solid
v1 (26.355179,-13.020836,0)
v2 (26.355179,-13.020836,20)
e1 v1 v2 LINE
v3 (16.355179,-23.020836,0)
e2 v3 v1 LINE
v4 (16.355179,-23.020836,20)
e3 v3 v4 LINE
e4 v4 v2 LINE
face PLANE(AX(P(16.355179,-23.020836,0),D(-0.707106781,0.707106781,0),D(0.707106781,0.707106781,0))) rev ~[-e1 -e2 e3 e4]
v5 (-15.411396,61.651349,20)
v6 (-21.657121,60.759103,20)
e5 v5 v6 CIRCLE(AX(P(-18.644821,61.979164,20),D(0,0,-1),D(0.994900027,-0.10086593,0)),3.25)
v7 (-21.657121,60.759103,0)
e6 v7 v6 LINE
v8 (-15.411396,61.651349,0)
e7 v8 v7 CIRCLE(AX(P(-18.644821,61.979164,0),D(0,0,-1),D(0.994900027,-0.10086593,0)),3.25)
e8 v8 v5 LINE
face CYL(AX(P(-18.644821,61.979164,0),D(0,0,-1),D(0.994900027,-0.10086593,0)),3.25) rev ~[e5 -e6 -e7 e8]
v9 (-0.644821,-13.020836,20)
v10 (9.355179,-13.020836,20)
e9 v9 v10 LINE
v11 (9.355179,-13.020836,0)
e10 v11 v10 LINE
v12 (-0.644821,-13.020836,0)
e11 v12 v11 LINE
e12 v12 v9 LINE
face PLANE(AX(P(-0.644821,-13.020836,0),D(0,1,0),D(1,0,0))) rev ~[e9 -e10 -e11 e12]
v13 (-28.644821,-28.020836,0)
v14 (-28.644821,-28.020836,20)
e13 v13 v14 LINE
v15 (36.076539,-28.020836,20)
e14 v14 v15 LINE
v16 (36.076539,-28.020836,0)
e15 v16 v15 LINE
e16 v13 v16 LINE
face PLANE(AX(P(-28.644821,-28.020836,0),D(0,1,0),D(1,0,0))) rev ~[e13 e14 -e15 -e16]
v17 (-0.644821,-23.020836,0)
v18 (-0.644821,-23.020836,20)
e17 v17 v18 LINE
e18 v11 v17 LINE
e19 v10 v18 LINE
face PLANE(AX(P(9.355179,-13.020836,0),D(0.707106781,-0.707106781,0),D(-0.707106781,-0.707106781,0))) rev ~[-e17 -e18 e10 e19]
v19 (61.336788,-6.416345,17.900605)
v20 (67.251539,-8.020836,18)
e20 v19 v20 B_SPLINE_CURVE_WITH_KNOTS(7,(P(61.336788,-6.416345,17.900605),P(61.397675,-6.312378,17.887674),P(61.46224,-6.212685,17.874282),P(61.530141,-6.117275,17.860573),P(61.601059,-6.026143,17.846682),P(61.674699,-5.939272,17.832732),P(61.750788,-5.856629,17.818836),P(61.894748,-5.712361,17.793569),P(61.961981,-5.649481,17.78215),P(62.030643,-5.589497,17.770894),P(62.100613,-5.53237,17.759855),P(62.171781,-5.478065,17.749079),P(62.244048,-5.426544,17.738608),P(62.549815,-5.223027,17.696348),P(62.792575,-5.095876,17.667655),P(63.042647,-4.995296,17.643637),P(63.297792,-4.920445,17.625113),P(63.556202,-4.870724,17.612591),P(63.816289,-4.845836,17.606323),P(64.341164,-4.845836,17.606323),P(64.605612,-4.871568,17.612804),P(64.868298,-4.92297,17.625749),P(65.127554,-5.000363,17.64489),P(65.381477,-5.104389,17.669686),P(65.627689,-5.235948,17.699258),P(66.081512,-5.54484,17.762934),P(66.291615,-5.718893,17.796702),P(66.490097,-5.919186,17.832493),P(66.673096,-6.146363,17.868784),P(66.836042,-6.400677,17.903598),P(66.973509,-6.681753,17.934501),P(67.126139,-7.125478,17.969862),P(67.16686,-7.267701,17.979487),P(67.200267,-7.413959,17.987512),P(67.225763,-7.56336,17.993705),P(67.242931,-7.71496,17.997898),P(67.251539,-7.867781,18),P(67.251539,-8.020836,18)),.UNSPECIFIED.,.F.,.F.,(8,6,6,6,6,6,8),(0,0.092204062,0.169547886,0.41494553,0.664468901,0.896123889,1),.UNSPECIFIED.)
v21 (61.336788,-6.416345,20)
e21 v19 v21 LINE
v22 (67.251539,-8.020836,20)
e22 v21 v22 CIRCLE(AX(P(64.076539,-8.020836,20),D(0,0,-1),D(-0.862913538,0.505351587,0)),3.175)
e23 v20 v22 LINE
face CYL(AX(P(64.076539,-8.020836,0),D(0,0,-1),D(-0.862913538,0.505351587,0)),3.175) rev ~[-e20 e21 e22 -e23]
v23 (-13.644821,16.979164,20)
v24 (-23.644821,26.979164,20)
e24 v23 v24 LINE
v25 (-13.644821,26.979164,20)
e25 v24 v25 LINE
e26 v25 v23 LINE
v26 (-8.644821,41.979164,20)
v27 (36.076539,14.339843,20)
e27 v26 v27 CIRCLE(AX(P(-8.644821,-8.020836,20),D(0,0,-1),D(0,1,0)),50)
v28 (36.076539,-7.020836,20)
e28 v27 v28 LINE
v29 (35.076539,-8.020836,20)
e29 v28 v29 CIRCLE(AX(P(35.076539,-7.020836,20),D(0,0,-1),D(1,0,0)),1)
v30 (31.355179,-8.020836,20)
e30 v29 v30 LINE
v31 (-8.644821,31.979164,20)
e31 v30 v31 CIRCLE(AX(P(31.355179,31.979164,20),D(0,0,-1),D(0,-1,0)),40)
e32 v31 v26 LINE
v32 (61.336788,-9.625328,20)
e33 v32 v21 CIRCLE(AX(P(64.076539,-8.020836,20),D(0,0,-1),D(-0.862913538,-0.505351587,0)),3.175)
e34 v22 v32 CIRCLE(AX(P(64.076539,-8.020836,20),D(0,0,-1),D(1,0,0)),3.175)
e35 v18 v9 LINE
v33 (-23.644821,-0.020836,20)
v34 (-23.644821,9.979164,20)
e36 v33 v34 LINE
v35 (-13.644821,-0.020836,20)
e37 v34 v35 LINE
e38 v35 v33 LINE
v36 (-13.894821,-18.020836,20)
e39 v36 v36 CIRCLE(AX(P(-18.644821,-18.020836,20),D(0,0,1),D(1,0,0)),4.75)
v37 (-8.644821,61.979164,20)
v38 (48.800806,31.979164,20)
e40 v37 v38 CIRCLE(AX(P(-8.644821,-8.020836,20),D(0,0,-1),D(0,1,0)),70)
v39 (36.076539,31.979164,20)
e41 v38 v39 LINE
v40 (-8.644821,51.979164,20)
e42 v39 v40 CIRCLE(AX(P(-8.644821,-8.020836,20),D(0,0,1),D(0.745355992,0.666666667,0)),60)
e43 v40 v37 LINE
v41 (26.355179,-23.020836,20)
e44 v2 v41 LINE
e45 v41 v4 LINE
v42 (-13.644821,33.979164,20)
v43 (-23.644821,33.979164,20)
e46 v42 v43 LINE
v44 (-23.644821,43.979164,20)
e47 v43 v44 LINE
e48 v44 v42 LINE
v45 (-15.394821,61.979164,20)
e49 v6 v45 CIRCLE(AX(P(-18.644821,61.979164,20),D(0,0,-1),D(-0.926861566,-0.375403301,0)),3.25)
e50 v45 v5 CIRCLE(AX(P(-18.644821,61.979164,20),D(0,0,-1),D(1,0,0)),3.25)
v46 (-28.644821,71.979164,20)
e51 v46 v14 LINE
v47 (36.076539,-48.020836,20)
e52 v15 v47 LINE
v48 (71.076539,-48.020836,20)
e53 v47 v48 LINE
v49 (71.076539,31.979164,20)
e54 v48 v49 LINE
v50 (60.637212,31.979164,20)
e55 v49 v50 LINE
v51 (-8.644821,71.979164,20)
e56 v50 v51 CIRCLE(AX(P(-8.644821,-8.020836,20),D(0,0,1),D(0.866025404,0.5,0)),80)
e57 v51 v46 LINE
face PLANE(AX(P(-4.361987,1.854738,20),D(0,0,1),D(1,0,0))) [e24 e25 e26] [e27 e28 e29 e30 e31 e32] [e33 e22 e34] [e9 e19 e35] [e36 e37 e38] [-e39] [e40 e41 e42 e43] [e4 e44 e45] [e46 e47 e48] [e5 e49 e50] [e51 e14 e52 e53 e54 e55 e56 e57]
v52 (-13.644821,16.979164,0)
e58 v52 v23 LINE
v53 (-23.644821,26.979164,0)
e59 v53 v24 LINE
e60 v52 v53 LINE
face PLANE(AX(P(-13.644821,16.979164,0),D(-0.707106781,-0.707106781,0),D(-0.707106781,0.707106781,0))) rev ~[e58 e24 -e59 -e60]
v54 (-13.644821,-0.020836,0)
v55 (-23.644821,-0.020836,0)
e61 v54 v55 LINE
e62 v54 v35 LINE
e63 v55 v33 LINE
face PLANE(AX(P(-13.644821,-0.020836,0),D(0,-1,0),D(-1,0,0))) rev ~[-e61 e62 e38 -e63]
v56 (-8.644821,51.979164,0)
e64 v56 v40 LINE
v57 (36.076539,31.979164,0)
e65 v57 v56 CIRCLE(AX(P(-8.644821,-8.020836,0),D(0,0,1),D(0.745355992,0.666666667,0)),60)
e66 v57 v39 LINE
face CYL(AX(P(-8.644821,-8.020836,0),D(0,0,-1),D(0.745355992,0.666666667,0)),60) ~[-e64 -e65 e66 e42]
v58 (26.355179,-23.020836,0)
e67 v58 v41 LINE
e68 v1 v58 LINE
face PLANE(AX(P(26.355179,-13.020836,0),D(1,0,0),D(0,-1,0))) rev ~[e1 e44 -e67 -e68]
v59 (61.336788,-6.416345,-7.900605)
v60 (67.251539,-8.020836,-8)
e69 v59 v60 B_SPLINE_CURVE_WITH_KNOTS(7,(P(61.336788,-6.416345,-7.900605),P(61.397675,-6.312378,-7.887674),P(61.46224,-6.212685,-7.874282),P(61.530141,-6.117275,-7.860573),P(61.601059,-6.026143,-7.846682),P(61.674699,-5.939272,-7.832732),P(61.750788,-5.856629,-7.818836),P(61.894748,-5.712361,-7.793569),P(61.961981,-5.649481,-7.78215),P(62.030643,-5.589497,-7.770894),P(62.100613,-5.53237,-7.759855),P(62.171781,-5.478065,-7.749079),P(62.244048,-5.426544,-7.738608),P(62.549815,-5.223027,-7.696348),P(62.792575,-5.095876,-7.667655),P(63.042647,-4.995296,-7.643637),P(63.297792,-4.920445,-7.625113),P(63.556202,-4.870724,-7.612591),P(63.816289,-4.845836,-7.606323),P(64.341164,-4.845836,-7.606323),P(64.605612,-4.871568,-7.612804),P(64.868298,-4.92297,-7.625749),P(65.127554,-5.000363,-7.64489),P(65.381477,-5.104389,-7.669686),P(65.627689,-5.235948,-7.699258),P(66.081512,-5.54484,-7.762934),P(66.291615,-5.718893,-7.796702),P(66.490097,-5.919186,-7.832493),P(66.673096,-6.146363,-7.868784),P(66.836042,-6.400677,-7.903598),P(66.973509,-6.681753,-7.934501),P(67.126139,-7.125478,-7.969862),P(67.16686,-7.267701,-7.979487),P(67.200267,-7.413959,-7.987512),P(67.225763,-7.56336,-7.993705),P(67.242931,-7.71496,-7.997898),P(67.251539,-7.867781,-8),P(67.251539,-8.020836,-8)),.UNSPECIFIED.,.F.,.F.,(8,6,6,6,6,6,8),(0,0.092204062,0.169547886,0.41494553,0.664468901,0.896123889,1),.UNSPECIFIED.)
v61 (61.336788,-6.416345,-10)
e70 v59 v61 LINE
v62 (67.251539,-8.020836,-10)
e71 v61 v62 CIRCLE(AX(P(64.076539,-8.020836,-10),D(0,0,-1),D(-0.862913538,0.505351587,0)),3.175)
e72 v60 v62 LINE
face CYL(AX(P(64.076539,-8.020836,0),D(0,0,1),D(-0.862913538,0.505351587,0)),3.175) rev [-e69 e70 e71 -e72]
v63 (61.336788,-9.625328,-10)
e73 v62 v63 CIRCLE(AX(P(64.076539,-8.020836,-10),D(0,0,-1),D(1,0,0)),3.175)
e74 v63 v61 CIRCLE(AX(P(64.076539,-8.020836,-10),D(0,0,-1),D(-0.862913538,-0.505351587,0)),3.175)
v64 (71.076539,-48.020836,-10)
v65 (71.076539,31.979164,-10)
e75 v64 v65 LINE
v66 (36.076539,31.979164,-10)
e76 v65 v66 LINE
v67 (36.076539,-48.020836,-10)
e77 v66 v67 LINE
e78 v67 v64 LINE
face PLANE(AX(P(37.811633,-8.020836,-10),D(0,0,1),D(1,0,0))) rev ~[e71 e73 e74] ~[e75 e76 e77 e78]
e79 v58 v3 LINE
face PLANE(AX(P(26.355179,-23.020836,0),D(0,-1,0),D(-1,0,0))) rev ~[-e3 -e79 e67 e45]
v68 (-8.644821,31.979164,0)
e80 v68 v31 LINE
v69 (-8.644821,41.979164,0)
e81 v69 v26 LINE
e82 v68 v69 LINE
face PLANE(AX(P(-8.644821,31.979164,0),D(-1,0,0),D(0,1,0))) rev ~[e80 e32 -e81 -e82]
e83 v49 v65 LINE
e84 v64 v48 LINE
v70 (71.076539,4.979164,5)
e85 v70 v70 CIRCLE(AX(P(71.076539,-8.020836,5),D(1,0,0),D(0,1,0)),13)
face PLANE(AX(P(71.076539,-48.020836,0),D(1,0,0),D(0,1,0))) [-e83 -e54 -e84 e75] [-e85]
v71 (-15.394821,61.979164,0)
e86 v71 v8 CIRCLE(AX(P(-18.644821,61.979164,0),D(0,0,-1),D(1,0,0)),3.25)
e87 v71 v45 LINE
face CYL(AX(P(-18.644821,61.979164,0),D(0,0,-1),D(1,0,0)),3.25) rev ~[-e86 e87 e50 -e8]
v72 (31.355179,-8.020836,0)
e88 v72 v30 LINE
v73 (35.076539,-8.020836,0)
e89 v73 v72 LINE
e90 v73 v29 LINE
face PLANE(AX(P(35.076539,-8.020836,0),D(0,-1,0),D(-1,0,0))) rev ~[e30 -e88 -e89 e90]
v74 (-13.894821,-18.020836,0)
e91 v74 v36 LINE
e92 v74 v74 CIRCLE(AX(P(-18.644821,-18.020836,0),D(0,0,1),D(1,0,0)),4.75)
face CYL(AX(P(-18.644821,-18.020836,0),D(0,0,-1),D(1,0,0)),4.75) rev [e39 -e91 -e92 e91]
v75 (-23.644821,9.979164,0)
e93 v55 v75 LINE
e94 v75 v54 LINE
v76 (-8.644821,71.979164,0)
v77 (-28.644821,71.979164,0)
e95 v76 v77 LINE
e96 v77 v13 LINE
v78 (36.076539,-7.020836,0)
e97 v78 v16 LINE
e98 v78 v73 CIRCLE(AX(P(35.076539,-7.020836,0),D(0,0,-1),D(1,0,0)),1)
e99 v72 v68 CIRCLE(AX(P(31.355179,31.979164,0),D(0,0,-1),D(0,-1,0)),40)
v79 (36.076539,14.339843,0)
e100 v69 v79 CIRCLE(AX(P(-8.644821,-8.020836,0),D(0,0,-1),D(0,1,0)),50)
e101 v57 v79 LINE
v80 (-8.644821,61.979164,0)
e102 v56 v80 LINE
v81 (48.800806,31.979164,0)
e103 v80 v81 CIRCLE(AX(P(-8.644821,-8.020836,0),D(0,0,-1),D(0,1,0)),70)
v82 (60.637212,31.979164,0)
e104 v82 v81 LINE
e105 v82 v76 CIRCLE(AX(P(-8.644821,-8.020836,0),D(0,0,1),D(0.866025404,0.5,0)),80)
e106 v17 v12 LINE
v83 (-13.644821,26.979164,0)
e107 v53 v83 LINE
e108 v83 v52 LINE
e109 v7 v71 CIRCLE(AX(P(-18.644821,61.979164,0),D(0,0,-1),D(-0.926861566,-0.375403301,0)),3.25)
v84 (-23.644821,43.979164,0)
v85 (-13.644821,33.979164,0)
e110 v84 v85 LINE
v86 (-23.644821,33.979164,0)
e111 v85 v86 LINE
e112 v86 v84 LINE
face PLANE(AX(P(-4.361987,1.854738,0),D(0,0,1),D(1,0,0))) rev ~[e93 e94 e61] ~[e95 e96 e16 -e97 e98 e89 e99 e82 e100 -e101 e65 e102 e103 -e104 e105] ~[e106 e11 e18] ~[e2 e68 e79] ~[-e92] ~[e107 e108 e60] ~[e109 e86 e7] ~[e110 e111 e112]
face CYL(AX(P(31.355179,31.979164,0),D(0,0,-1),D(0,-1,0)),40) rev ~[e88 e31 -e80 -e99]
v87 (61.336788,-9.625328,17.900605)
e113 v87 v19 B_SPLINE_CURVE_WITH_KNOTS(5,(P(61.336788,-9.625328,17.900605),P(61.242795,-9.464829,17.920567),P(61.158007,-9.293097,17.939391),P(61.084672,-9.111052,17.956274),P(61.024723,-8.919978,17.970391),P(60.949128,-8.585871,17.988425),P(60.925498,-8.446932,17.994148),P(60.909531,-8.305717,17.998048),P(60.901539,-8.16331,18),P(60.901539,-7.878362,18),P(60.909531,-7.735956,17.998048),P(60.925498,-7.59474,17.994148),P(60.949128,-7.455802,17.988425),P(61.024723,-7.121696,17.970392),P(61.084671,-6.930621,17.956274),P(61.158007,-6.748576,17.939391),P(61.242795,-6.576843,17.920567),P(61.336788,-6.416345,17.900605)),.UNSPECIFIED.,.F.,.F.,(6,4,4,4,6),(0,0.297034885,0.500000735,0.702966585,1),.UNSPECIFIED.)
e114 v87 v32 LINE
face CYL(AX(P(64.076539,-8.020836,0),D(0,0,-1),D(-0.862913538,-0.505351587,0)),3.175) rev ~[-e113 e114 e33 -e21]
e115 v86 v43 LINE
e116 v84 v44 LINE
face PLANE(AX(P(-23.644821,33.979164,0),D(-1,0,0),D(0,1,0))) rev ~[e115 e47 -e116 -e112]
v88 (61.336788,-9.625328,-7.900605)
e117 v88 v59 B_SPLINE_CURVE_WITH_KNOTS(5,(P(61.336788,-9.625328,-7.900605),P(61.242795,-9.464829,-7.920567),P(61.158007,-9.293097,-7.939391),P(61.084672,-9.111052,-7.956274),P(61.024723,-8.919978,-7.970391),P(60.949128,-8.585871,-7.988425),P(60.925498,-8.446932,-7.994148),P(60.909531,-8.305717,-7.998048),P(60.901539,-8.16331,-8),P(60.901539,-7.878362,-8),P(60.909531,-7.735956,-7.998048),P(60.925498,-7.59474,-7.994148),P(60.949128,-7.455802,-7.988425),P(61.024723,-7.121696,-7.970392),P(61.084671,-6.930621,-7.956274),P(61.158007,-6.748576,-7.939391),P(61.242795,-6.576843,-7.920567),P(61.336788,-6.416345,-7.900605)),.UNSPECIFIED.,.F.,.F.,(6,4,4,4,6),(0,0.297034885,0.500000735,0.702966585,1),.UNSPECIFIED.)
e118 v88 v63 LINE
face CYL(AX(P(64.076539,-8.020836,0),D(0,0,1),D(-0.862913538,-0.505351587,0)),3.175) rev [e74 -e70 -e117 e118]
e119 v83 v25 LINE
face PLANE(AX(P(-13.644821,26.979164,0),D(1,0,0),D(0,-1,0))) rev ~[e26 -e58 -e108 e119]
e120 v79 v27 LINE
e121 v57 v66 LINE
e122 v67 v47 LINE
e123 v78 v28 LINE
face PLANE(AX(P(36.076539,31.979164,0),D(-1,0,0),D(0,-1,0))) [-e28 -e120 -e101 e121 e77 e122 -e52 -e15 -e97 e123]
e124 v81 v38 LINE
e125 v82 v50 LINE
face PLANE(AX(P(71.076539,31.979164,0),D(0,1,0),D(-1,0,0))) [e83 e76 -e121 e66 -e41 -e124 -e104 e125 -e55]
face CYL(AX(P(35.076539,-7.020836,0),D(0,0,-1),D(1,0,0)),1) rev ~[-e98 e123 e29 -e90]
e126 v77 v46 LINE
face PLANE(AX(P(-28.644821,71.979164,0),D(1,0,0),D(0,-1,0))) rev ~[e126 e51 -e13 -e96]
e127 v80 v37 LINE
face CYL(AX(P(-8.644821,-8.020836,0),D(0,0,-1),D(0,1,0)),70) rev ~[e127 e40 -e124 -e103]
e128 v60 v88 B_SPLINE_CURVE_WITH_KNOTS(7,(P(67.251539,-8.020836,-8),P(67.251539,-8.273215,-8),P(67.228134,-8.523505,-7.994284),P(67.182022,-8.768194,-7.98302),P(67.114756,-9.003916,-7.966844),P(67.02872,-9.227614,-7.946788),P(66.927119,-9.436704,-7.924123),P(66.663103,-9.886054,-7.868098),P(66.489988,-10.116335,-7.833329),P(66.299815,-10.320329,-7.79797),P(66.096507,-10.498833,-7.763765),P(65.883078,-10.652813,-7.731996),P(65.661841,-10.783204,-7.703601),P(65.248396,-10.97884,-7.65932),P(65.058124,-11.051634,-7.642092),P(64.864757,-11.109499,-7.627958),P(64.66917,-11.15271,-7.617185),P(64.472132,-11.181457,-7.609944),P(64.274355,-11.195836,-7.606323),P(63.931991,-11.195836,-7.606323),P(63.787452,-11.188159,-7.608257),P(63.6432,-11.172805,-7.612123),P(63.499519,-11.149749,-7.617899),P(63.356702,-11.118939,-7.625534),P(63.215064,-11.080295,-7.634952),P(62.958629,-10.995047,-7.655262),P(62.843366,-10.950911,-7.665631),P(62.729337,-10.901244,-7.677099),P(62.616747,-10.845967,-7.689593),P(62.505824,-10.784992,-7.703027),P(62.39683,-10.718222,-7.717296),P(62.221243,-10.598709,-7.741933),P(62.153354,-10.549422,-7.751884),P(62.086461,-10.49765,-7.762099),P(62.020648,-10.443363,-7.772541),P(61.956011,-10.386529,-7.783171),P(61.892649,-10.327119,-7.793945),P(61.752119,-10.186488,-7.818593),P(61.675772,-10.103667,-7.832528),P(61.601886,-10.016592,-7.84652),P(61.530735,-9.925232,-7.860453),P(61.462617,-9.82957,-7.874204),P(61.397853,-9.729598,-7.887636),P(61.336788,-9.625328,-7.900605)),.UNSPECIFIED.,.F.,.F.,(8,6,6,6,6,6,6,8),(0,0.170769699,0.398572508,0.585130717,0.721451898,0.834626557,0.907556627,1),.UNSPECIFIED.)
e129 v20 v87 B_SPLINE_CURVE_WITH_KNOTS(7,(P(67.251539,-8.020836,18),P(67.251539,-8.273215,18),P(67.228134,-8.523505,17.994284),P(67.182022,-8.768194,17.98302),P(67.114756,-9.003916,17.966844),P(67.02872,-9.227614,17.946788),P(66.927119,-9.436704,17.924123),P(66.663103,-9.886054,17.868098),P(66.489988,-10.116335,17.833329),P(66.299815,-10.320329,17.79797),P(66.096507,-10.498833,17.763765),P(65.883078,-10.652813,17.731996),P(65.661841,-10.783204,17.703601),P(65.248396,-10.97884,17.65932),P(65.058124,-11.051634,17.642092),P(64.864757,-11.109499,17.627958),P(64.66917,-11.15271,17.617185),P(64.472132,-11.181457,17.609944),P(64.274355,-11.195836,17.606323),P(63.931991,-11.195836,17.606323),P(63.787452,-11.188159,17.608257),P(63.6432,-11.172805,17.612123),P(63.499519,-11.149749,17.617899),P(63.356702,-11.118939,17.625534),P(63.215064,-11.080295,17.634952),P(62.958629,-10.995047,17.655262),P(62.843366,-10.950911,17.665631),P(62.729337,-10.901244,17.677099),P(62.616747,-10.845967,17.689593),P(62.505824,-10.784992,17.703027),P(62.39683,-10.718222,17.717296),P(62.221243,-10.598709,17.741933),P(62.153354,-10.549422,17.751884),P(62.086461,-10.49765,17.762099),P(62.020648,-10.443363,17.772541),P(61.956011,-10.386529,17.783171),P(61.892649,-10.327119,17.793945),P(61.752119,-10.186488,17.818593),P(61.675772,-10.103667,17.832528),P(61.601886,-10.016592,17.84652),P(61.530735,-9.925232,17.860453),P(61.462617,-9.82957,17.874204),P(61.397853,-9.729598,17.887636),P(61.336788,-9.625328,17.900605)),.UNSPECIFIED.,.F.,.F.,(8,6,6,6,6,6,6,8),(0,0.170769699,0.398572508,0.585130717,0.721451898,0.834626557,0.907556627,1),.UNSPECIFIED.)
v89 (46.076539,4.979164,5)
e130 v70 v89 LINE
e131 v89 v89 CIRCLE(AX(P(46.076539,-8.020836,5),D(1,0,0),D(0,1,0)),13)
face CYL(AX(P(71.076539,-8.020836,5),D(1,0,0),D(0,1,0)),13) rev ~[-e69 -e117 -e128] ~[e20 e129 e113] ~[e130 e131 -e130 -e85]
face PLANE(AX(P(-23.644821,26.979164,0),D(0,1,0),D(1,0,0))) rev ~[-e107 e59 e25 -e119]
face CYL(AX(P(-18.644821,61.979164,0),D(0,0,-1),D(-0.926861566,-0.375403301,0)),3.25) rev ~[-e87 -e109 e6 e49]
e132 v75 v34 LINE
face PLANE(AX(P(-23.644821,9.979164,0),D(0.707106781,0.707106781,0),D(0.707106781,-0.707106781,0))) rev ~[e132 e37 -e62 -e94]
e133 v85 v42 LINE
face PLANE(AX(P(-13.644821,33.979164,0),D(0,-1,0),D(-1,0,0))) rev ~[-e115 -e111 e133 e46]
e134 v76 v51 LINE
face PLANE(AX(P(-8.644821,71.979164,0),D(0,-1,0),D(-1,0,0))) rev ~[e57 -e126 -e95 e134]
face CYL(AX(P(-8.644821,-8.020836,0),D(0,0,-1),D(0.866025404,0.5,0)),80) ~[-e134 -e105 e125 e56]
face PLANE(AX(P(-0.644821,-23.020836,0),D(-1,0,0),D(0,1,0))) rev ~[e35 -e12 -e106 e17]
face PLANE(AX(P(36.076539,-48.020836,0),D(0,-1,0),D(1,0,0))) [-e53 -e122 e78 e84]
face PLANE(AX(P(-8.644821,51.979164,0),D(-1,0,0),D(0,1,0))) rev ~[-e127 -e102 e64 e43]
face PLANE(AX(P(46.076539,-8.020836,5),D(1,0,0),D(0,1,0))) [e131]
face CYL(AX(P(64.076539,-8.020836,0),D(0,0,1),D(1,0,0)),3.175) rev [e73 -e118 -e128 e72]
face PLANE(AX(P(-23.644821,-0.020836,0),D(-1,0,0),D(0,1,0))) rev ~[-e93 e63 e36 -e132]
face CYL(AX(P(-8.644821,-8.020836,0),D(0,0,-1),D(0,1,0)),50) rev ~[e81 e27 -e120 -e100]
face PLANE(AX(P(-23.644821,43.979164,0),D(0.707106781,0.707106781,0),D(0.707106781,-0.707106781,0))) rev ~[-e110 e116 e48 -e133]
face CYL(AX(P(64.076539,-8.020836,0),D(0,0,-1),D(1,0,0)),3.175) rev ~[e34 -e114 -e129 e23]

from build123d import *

# Parameters (mm, degrees)
F0_R     = 4.75
F1_DEPTH = 20
F2_DEPTH = 10
F3_R     = 13
F4_DEPTH = 25


with BuildPart() as f1:
    # F0 (on Top) → F1 (new body)
    with BuildSketch(Plane.XY):
        with BuildLine():
            Line((-8.6448206271, 31.9791635871), (-8.6448206271, 41.9791635871))
            ThreePointArc((-8.6448206271, 41.9791635871), (-14.4995413925, 41.6352029455), (-20.2737104175, 40.6080533775))
            Line((-20.2737104175, 40.6080533775), (-13.6448206271, 33.9791635871))
            Line((-13.6448206271, 33.9791635871), (-23.6448206271, 33.9791635871))
            Line((-23.6448206271, 33.9791635871), (-23.6448206271, 39.6761236579))
            ThreePointArc((-23.6448206271, 39.6761236579), (-26.1698127892, 38.8073030944), (-28.6448206271, 37.8049205367))
            Line((-28.6448206271, 37.8049205367), (-28.6448206271, -28.0208364129))
            Line((-28.6448206271, -28.0208364129), (-8.6448206271, -28.0208364129))
            Line((-8.6448206271, -28.0208364129), (35.0765389229, -28.0208364129))
            Line((35.0765389229, -28.0208364129), (36.0765389229, -28.0208364129))
            Line((36.0765389229, -28.0208364129), (36.0765389229, -7.0208364129))
            ThreePointArc((36.0765389229, -7.0208364129), (35.783645704, -7.7279431941), (35.0765389229, -8.0208364129))
            Line((35.0765389229, -8.0208364129), (31.3551793729, -8.0208364129))
            ThreePointArc((31.3551793729, -8.0208364129), (3.0709081254, 3.6948923396), (-8.6448206271, 31.9791635871))
        make_face()
        with Locations((-18.6448206271, -18.0208364129)):
            Circle(F0_R, mode=Mode.SUBTRACT)
        Polygon((-0.6448206271, -13.0208364129), (9.3551793729, -13.0208364129), (-0.6448206271, -23.0208364129), align=None, mode=Mode.SUBTRACT)
        Polygon((26.3551793729, -23.0208364129), (16.3551793729, -23.0208364129), (26.3551793729, -13.0208364129), align=None, mode=Mode.SUBTRACT)
        Polygon((-23.6448206271, -0.0208364129), (-23.6448206271, 9.9791635871), (-13.6448206271, -0.0208364129), align=None, mode=Mode.SUBTRACT)
        Polygon((-13.6448206271, 26.9791635871), (-13.6448206271, 16.9791635871), (-23.6448206271, 26.9791635871), align=None, mode=Mode.SUBTRACT)
        with BuildLine():
            Line((-8.6448206271, 41.9791635871), (-8.6448206271, 51.9791635871))
            ThreePointArc((-8.6448206271, 51.9791635871), (-18.7909393507, 51.1150771663), (-28.6448206271, 48.547706082))
            Line((-28.6448206271, 48.547706082), (-28.6448206271, 37.8049205367))
            ThreePointArc((-28.6448206271, 37.8049205367), (-26.1698127892, 38.8073030944), (-23.6448206271, 39.6761236579))
            Line((-23.6448206271, 39.6761236579), (-23.6448206271, 43.9791635871))
            Line((-23.6448206271, 43.9791635871), (-20.2737104175, 40.6080533775))
            ThreePointArc((-20.2737104175, 40.6080533775), (-14.4995413925, 41.6352029455), (-8.6448206271, 41.9791635871))
        make_face()
        with BuildLine():
            Line((-8.6448206271, 51.9791635871), (-8.6448206271, 61.9791635871))
            ThreePointArc((-8.6448206271, 61.9791635871), (-12.0320760881, 61.8971619884), (-15.4113955387, 61.651349314))
            ThreePointArc((-15.4113955387, 61.651349314), (-18.1852012194, 58.7618277327), (-21.6571207156, 60.7591028602))
            ThreePointArc((-21.6571207156, 60.7591028602), (-25.1727879958, 59.9999419909), (-28.6448206271, 59.0612029121))
            Line((-28.6448206271, 59.0612029121), (-28.6448206271, 48.547706082))
            ThreePointArc((-28.6448206271, 48.547706082), (-18.7909393507, 51.1150771663), (-8.6448206271, 51.9791635871))
        make_face()
        with BuildLine():
            Line((-8.6448206271, 61.9791635871), (-8.6448206271, 71.9791635871))
            ThreePointArc((-8.6448206271, 71.9791635871), (-18.7251640258, 71.3415392885), (-28.6448206271, 69.4388305112))
            Line((-28.6448206271, 69.4388305112), (-28.6448206271, 59.0612029121))
            ThreePointArc((-28.6448206271, 59.0612029121), (-25.1727879958, 59.9999419909), (-21.6571207156, 60.7591028602))
            ThreePointArc((-21.6571207156, 60.7591028602), (-19.2663207127, 65.1691851613), (-15.3948206271, 61.9791635871))
            ThreePointArc((-15.3948206271, 61.9791635871), (-15.398967, 61.8150470695), (-15.4113955387, 61.651349314))
            ThreePointArc((-15.4113955387, 61.651349314), (-12.0320760881, 61.8971619884), (-8.6448206271, 61.9791635871))
        make_face()
        with BuildLine():
            ThreePointArc((-28.6448206271, 69.4388305112), (-18.7251640258, 71.3415392885), (-8.6448206271, 71.9791635871))
            Line((-8.6448206271, 71.9791635871), (-28.6448206271, 71.9791635871))
            Line((-28.6448206271, 71.9791635871), (-28.6448206271, 69.4388305112))
        make_face()
        with BuildLine():
            ThreePointArc((60.6372116756, 31.9791635871), (31.3551793729, 61.2611958898), (-8.6448206271, 71.9791635871))
            Line((-8.6448206271, 71.9791635871), (-8.6448206271, 61.9791635871))
            ThreePointArc((-8.6448206271, 61.9791635871), (23.7588828649, 54.027531817), (48.8008058382, 31.9791635871))
            Line((48.8008058382, 31.9791635871), (60.6372116756, 31.9791635871))
        make_face()
        with BuildLine():
            ThreePointArc((36.0765389229, 31.9791635871), (15.8500768007, 46.7514193376), (-8.6448206271, 51.9791635871))
            Line((-8.6448206271, 51.9791635871), (-8.6448206271, 41.9791635871))
            ThreePointArc((-8.6448206271, 41.9791635871), (17.6417349788, 34.5117040047), (36.0765389229, 14.3398433621))
            Line((36.0765389229, 14.3398433621), (36.0765389229, 31.9791635871))
        make_face()
        with BuildLine():
            ThreePointArc((51.3551793729, -8.0208364129), (47.4055209106, 13.3884889735), (36.0765389229, 31.9791635871))
            Line((36.0765389229, 31.9791635871), (36.0765389229, 14.3398433621))
            ThreePointArc((36.0765389229, 14.3398433621), (40.0176288462, 3.4668096145), (41.3551793729, -8.0208364129))
            ThreePointArc((41.3551793729, -8.0208364129), (40.0176288462, -19.5084824403), (36.0765389229, -30.3815161879))
            Line((36.0765389229, -30.3815161879), (36.0765389229, -48.0208364129))
            ThreePointArc((36.0765389229, -48.0208364129), (47.4055209106, -29.4301617993), (51.3551793729, -8.0208364129))
        make_face()
        with BuildLine():
            ThreePointArc((61.3367884406, -6.4163451244), (57.898239576, 13.70521106), (48.8008058382, 31.9791635871))
            Line((48.8008058382, 31.9791635871), (36.0765389229, 31.9791635871))
            ThreePointArc((36.0765389229, 31.9791635871), (47.4055209106, 13.3884889735), (51.3551793729, -8.0208364129))
            ThreePointArc((51.3551793729, -8.0208364129), (47.4055209106, -29.4301617993), (36.0765389229, -48.0208364129))
            Line((36.0765389229, -48.0208364129), (48.8008058382, -48.0208364129))
            ThreePointArc((48.8008058382, -48.0208364129), (57.898239576, -29.7468838858), (61.3367884406, -9.6253277014))
            ThreePointArc((61.3367884406, -9.6253277014), (60.9015389229, -8.0208364129), (61.3367884406, -6.4163451244))
        make_face()
        with BuildLine():
            ThreePointArc((71.0765389229, -1.3496422544), (67.697860886, 15.891398518), (60.6372116756, 31.9791635871))
            Line((60.6372116756, 31.9791635871), (48.8008058382, 31.9791635871))
            ThreePointArc((48.8008058382, 31.9791635871), (57.898239576, 13.70521106), (61.3367884406, -6.4163451244))
            ThreePointArc((61.3367884406, -6.4163451244), (64.9077781239, -4.9565801588), (67.2515389229, -8.0208364129))
            ThreePointArc((67.2515389229, -8.0208364129), (64.9077781239, -11.085092667), (61.3367884406, -9.6253277014))
            ThreePointArc((61.3367884406, -9.6253277014), (57.898239576, -29.7468838858), (48.8008058382, -48.0208364129))
            Line((48.8008058382, -48.0208364129), (60.6372116756, -48.0208364129))
            ThreePointArc((60.6372116756, -48.0208364129), (67.697860886, -31.9330713438), (71.0765389229, -14.6920305714))
            Line((71.0765389229, -14.6920305714), (71.0765389229, -1.3496422544))
        make_face()
        with BuildLine():
            Line((71.0765389229, 31.9791635871), (60.6372116756, 31.9791635871))
            ThreePointArc((60.6372116756, 31.9791635871), (67.697860886, 15.891398518), (71.0765389229, -1.3496422544))
            Line((71.0765389229, -1.3496422544), (71.0765389229, 31.9791635871))
        make_face()
        with BuildLine():
            ThreePointArc((41.3551793729, -8.0208364129), (40.0176288462, 3.4668096145), (36.0765389229, 14.3398433621))
            Line((36.0765389229, 14.3398433621), (36.0765389229, -7.0208364129))
            Line((36.0765389229, -7.0208364129), (36.0765389229, -28.0208364129))
            Line((36.0765389229, -28.0208364129), (36.0765389229, -29.0208364129))
            Line((36.0765389229, -29.0208364129), (36.0765389229, -30.3815161879))
            ThreePointArc((36.0765389229, -30.3815161879), (40.0176288462, -19.5084824403), (41.3551793729, -8.0208364129))
        make_face()
        with BuildLine():
            ThreePointArc((71.0765389229, -14.6920305714), (67.697860886, -31.9330713438), (60.6372116756, -48.0208364129))
            Line((60.6372116756, -48.0208364129), (71.0765389229, -48.0208364129))
            Line((71.0765389229, -48.0208364129), (71.0765389229, -14.6920305714))
        make_face()
    extrude(amount=F1_DEPTH)

    # F0 (on Top) → F2 (join)
    with BuildSketch(Plane.XY):
        with BuildLine():
            ThreePointArc((41.3551793729, -8.0208364129), (40.0176288462, 3.4668096145), (36.0765389229, 14.3398433621))
            Line((36.0765389229, 14.3398433621), (36.0765389229, -7.0208364129))
            Line((36.0765389229, -7.0208364129), (36.0765389229, -28.0208364129))
            Line((36.0765389229, -28.0208364129), (36.0765389229, -29.0208364129))
            Line((36.0765389229, -29.0208364129), (36.0765389229, -30.3815161879))
            ThreePointArc((36.0765389229, -30.3815161879), (40.0176288462, -19.5084824403), (41.3551793729, -8.0208364129))
        make_face()
        with BuildLine():
            ThreePointArc((51.3551793729, -8.0208364129), (47.4055209106, 13.3884889735), (36.0765389229, 31.9791635871))
            Line((36.0765389229, 31.9791635871), (36.0765389229, 14.3398433621))
            ThreePointArc((36.0765389229, 14.3398433621), (40.0176288462, 3.4668096145), (41.3551793729, -8.0208364129))
            ThreePointArc((41.3551793729, -8.0208364129), (40.0176288462, -19.5084824403), (36.0765389229, -30.3815161879))
            Line((36.0765389229, -30.3815161879), (36.0765389229, -48.0208364129))
            ThreePointArc((36.0765389229, -48.0208364129), (47.4055209106, -29.4301617993), (51.3551793729, -8.0208364129))
        make_face()
        with BuildLine():
            ThreePointArc((61.3367884406, -6.4163451244), (57.898239576, 13.70521106), (48.8008058382, 31.9791635871))
            Line((48.8008058382, 31.9791635871), (36.0765389229, 31.9791635871))
            ThreePointArc((36.0765389229, 31.9791635871), (47.4055209106, 13.3884889735), (51.3551793729, -8.0208364129))
            ThreePointArc((51.3551793729, -8.0208364129), (47.4055209106, -29.4301617993), (36.0765389229, -48.0208364129))
            Line((36.0765389229, -48.0208364129), (48.8008058382, -48.0208364129))
            ThreePointArc((48.8008058382, -48.0208364129), (57.898239576, -29.7468838858), (61.3367884406, -9.6253277014))
            ThreePointArc((61.3367884406, -9.6253277014), (60.9015389229, -8.0208364129), (61.3367884406, -6.4163451244))
        make_face()
        with BuildLine():
            ThreePointArc((71.0765389229, -1.3496422544), (67.697860886, 15.891398518), (60.6372116756, 31.9791635871))
            Line((60.6372116756, 31.9791635871), (48.8008058382, 31.9791635871))
            ThreePointArc((48.8008058382, 31.9791635871), (57.898239576, 13.70521106), (61.3367884406, -6.4163451244))
            ThreePointArc((61.3367884406, -6.4163451244), (64.9077781239, -4.9565801588), (67.2515389229, -8.0208364129))
            ThreePointArc((67.2515389229, -8.0208364129), (64.9077781239, -11.085092667), (61.3367884406, -9.6253277014))
            ThreePointArc((61.3367884406, -9.6253277014), (57.898239576, -29.7468838858), (48.8008058382, -48.0208364129))
            Line((48.8008058382, -48.0208364129), (60.6372116756, -48.0208364129))
            ThreePointArc((60.6372116756, -48.0208364129), (67.697860886, -31.9330713438), (71.0765389229, -14.6920305714))
            Line((71.0765389229, -14.6920305714), (71.0765389229, -1.3496422544))
        make_face()
        with BuildLine():
            Line((71.0765389229, 31.9791635871), (60.6372116756, 31.9791635871))
            ThreePointArc((60.6372116756, 31.9791635871), (67.697860886, 15.891398518), (71.0765389229, -1.3496422544))
            Line((71.0765389229, -1.3496422544), (71.0765389229, 31.9791635871))
        make_face()
        with BuildLine():
            ThreePointArc((71.0765389229, -14.6920305714), (67.697860886, -31.9330713438), (60.6372116756, -48.0208364129))
            Line((60.6372116756, -48.0208364129), (71.0765389229, -48.0208364129))
            Line((71.0765389229, -48.0208364129), (71.0765389229, -14.6920305714))
        make_face()
    extrude(amount=-F2_DEPTH)

    # F3 (on face) → F4 (cut)
    with BuildSketch(Plane.YZ.offset(71.0765389229)):
        with Locations((-8.0208364129, 5)):
            Circle(F3_R)
    extrude(amount=-F4_DEPTH, mode=Mode.SUBTRACT)


solid = f1.part
